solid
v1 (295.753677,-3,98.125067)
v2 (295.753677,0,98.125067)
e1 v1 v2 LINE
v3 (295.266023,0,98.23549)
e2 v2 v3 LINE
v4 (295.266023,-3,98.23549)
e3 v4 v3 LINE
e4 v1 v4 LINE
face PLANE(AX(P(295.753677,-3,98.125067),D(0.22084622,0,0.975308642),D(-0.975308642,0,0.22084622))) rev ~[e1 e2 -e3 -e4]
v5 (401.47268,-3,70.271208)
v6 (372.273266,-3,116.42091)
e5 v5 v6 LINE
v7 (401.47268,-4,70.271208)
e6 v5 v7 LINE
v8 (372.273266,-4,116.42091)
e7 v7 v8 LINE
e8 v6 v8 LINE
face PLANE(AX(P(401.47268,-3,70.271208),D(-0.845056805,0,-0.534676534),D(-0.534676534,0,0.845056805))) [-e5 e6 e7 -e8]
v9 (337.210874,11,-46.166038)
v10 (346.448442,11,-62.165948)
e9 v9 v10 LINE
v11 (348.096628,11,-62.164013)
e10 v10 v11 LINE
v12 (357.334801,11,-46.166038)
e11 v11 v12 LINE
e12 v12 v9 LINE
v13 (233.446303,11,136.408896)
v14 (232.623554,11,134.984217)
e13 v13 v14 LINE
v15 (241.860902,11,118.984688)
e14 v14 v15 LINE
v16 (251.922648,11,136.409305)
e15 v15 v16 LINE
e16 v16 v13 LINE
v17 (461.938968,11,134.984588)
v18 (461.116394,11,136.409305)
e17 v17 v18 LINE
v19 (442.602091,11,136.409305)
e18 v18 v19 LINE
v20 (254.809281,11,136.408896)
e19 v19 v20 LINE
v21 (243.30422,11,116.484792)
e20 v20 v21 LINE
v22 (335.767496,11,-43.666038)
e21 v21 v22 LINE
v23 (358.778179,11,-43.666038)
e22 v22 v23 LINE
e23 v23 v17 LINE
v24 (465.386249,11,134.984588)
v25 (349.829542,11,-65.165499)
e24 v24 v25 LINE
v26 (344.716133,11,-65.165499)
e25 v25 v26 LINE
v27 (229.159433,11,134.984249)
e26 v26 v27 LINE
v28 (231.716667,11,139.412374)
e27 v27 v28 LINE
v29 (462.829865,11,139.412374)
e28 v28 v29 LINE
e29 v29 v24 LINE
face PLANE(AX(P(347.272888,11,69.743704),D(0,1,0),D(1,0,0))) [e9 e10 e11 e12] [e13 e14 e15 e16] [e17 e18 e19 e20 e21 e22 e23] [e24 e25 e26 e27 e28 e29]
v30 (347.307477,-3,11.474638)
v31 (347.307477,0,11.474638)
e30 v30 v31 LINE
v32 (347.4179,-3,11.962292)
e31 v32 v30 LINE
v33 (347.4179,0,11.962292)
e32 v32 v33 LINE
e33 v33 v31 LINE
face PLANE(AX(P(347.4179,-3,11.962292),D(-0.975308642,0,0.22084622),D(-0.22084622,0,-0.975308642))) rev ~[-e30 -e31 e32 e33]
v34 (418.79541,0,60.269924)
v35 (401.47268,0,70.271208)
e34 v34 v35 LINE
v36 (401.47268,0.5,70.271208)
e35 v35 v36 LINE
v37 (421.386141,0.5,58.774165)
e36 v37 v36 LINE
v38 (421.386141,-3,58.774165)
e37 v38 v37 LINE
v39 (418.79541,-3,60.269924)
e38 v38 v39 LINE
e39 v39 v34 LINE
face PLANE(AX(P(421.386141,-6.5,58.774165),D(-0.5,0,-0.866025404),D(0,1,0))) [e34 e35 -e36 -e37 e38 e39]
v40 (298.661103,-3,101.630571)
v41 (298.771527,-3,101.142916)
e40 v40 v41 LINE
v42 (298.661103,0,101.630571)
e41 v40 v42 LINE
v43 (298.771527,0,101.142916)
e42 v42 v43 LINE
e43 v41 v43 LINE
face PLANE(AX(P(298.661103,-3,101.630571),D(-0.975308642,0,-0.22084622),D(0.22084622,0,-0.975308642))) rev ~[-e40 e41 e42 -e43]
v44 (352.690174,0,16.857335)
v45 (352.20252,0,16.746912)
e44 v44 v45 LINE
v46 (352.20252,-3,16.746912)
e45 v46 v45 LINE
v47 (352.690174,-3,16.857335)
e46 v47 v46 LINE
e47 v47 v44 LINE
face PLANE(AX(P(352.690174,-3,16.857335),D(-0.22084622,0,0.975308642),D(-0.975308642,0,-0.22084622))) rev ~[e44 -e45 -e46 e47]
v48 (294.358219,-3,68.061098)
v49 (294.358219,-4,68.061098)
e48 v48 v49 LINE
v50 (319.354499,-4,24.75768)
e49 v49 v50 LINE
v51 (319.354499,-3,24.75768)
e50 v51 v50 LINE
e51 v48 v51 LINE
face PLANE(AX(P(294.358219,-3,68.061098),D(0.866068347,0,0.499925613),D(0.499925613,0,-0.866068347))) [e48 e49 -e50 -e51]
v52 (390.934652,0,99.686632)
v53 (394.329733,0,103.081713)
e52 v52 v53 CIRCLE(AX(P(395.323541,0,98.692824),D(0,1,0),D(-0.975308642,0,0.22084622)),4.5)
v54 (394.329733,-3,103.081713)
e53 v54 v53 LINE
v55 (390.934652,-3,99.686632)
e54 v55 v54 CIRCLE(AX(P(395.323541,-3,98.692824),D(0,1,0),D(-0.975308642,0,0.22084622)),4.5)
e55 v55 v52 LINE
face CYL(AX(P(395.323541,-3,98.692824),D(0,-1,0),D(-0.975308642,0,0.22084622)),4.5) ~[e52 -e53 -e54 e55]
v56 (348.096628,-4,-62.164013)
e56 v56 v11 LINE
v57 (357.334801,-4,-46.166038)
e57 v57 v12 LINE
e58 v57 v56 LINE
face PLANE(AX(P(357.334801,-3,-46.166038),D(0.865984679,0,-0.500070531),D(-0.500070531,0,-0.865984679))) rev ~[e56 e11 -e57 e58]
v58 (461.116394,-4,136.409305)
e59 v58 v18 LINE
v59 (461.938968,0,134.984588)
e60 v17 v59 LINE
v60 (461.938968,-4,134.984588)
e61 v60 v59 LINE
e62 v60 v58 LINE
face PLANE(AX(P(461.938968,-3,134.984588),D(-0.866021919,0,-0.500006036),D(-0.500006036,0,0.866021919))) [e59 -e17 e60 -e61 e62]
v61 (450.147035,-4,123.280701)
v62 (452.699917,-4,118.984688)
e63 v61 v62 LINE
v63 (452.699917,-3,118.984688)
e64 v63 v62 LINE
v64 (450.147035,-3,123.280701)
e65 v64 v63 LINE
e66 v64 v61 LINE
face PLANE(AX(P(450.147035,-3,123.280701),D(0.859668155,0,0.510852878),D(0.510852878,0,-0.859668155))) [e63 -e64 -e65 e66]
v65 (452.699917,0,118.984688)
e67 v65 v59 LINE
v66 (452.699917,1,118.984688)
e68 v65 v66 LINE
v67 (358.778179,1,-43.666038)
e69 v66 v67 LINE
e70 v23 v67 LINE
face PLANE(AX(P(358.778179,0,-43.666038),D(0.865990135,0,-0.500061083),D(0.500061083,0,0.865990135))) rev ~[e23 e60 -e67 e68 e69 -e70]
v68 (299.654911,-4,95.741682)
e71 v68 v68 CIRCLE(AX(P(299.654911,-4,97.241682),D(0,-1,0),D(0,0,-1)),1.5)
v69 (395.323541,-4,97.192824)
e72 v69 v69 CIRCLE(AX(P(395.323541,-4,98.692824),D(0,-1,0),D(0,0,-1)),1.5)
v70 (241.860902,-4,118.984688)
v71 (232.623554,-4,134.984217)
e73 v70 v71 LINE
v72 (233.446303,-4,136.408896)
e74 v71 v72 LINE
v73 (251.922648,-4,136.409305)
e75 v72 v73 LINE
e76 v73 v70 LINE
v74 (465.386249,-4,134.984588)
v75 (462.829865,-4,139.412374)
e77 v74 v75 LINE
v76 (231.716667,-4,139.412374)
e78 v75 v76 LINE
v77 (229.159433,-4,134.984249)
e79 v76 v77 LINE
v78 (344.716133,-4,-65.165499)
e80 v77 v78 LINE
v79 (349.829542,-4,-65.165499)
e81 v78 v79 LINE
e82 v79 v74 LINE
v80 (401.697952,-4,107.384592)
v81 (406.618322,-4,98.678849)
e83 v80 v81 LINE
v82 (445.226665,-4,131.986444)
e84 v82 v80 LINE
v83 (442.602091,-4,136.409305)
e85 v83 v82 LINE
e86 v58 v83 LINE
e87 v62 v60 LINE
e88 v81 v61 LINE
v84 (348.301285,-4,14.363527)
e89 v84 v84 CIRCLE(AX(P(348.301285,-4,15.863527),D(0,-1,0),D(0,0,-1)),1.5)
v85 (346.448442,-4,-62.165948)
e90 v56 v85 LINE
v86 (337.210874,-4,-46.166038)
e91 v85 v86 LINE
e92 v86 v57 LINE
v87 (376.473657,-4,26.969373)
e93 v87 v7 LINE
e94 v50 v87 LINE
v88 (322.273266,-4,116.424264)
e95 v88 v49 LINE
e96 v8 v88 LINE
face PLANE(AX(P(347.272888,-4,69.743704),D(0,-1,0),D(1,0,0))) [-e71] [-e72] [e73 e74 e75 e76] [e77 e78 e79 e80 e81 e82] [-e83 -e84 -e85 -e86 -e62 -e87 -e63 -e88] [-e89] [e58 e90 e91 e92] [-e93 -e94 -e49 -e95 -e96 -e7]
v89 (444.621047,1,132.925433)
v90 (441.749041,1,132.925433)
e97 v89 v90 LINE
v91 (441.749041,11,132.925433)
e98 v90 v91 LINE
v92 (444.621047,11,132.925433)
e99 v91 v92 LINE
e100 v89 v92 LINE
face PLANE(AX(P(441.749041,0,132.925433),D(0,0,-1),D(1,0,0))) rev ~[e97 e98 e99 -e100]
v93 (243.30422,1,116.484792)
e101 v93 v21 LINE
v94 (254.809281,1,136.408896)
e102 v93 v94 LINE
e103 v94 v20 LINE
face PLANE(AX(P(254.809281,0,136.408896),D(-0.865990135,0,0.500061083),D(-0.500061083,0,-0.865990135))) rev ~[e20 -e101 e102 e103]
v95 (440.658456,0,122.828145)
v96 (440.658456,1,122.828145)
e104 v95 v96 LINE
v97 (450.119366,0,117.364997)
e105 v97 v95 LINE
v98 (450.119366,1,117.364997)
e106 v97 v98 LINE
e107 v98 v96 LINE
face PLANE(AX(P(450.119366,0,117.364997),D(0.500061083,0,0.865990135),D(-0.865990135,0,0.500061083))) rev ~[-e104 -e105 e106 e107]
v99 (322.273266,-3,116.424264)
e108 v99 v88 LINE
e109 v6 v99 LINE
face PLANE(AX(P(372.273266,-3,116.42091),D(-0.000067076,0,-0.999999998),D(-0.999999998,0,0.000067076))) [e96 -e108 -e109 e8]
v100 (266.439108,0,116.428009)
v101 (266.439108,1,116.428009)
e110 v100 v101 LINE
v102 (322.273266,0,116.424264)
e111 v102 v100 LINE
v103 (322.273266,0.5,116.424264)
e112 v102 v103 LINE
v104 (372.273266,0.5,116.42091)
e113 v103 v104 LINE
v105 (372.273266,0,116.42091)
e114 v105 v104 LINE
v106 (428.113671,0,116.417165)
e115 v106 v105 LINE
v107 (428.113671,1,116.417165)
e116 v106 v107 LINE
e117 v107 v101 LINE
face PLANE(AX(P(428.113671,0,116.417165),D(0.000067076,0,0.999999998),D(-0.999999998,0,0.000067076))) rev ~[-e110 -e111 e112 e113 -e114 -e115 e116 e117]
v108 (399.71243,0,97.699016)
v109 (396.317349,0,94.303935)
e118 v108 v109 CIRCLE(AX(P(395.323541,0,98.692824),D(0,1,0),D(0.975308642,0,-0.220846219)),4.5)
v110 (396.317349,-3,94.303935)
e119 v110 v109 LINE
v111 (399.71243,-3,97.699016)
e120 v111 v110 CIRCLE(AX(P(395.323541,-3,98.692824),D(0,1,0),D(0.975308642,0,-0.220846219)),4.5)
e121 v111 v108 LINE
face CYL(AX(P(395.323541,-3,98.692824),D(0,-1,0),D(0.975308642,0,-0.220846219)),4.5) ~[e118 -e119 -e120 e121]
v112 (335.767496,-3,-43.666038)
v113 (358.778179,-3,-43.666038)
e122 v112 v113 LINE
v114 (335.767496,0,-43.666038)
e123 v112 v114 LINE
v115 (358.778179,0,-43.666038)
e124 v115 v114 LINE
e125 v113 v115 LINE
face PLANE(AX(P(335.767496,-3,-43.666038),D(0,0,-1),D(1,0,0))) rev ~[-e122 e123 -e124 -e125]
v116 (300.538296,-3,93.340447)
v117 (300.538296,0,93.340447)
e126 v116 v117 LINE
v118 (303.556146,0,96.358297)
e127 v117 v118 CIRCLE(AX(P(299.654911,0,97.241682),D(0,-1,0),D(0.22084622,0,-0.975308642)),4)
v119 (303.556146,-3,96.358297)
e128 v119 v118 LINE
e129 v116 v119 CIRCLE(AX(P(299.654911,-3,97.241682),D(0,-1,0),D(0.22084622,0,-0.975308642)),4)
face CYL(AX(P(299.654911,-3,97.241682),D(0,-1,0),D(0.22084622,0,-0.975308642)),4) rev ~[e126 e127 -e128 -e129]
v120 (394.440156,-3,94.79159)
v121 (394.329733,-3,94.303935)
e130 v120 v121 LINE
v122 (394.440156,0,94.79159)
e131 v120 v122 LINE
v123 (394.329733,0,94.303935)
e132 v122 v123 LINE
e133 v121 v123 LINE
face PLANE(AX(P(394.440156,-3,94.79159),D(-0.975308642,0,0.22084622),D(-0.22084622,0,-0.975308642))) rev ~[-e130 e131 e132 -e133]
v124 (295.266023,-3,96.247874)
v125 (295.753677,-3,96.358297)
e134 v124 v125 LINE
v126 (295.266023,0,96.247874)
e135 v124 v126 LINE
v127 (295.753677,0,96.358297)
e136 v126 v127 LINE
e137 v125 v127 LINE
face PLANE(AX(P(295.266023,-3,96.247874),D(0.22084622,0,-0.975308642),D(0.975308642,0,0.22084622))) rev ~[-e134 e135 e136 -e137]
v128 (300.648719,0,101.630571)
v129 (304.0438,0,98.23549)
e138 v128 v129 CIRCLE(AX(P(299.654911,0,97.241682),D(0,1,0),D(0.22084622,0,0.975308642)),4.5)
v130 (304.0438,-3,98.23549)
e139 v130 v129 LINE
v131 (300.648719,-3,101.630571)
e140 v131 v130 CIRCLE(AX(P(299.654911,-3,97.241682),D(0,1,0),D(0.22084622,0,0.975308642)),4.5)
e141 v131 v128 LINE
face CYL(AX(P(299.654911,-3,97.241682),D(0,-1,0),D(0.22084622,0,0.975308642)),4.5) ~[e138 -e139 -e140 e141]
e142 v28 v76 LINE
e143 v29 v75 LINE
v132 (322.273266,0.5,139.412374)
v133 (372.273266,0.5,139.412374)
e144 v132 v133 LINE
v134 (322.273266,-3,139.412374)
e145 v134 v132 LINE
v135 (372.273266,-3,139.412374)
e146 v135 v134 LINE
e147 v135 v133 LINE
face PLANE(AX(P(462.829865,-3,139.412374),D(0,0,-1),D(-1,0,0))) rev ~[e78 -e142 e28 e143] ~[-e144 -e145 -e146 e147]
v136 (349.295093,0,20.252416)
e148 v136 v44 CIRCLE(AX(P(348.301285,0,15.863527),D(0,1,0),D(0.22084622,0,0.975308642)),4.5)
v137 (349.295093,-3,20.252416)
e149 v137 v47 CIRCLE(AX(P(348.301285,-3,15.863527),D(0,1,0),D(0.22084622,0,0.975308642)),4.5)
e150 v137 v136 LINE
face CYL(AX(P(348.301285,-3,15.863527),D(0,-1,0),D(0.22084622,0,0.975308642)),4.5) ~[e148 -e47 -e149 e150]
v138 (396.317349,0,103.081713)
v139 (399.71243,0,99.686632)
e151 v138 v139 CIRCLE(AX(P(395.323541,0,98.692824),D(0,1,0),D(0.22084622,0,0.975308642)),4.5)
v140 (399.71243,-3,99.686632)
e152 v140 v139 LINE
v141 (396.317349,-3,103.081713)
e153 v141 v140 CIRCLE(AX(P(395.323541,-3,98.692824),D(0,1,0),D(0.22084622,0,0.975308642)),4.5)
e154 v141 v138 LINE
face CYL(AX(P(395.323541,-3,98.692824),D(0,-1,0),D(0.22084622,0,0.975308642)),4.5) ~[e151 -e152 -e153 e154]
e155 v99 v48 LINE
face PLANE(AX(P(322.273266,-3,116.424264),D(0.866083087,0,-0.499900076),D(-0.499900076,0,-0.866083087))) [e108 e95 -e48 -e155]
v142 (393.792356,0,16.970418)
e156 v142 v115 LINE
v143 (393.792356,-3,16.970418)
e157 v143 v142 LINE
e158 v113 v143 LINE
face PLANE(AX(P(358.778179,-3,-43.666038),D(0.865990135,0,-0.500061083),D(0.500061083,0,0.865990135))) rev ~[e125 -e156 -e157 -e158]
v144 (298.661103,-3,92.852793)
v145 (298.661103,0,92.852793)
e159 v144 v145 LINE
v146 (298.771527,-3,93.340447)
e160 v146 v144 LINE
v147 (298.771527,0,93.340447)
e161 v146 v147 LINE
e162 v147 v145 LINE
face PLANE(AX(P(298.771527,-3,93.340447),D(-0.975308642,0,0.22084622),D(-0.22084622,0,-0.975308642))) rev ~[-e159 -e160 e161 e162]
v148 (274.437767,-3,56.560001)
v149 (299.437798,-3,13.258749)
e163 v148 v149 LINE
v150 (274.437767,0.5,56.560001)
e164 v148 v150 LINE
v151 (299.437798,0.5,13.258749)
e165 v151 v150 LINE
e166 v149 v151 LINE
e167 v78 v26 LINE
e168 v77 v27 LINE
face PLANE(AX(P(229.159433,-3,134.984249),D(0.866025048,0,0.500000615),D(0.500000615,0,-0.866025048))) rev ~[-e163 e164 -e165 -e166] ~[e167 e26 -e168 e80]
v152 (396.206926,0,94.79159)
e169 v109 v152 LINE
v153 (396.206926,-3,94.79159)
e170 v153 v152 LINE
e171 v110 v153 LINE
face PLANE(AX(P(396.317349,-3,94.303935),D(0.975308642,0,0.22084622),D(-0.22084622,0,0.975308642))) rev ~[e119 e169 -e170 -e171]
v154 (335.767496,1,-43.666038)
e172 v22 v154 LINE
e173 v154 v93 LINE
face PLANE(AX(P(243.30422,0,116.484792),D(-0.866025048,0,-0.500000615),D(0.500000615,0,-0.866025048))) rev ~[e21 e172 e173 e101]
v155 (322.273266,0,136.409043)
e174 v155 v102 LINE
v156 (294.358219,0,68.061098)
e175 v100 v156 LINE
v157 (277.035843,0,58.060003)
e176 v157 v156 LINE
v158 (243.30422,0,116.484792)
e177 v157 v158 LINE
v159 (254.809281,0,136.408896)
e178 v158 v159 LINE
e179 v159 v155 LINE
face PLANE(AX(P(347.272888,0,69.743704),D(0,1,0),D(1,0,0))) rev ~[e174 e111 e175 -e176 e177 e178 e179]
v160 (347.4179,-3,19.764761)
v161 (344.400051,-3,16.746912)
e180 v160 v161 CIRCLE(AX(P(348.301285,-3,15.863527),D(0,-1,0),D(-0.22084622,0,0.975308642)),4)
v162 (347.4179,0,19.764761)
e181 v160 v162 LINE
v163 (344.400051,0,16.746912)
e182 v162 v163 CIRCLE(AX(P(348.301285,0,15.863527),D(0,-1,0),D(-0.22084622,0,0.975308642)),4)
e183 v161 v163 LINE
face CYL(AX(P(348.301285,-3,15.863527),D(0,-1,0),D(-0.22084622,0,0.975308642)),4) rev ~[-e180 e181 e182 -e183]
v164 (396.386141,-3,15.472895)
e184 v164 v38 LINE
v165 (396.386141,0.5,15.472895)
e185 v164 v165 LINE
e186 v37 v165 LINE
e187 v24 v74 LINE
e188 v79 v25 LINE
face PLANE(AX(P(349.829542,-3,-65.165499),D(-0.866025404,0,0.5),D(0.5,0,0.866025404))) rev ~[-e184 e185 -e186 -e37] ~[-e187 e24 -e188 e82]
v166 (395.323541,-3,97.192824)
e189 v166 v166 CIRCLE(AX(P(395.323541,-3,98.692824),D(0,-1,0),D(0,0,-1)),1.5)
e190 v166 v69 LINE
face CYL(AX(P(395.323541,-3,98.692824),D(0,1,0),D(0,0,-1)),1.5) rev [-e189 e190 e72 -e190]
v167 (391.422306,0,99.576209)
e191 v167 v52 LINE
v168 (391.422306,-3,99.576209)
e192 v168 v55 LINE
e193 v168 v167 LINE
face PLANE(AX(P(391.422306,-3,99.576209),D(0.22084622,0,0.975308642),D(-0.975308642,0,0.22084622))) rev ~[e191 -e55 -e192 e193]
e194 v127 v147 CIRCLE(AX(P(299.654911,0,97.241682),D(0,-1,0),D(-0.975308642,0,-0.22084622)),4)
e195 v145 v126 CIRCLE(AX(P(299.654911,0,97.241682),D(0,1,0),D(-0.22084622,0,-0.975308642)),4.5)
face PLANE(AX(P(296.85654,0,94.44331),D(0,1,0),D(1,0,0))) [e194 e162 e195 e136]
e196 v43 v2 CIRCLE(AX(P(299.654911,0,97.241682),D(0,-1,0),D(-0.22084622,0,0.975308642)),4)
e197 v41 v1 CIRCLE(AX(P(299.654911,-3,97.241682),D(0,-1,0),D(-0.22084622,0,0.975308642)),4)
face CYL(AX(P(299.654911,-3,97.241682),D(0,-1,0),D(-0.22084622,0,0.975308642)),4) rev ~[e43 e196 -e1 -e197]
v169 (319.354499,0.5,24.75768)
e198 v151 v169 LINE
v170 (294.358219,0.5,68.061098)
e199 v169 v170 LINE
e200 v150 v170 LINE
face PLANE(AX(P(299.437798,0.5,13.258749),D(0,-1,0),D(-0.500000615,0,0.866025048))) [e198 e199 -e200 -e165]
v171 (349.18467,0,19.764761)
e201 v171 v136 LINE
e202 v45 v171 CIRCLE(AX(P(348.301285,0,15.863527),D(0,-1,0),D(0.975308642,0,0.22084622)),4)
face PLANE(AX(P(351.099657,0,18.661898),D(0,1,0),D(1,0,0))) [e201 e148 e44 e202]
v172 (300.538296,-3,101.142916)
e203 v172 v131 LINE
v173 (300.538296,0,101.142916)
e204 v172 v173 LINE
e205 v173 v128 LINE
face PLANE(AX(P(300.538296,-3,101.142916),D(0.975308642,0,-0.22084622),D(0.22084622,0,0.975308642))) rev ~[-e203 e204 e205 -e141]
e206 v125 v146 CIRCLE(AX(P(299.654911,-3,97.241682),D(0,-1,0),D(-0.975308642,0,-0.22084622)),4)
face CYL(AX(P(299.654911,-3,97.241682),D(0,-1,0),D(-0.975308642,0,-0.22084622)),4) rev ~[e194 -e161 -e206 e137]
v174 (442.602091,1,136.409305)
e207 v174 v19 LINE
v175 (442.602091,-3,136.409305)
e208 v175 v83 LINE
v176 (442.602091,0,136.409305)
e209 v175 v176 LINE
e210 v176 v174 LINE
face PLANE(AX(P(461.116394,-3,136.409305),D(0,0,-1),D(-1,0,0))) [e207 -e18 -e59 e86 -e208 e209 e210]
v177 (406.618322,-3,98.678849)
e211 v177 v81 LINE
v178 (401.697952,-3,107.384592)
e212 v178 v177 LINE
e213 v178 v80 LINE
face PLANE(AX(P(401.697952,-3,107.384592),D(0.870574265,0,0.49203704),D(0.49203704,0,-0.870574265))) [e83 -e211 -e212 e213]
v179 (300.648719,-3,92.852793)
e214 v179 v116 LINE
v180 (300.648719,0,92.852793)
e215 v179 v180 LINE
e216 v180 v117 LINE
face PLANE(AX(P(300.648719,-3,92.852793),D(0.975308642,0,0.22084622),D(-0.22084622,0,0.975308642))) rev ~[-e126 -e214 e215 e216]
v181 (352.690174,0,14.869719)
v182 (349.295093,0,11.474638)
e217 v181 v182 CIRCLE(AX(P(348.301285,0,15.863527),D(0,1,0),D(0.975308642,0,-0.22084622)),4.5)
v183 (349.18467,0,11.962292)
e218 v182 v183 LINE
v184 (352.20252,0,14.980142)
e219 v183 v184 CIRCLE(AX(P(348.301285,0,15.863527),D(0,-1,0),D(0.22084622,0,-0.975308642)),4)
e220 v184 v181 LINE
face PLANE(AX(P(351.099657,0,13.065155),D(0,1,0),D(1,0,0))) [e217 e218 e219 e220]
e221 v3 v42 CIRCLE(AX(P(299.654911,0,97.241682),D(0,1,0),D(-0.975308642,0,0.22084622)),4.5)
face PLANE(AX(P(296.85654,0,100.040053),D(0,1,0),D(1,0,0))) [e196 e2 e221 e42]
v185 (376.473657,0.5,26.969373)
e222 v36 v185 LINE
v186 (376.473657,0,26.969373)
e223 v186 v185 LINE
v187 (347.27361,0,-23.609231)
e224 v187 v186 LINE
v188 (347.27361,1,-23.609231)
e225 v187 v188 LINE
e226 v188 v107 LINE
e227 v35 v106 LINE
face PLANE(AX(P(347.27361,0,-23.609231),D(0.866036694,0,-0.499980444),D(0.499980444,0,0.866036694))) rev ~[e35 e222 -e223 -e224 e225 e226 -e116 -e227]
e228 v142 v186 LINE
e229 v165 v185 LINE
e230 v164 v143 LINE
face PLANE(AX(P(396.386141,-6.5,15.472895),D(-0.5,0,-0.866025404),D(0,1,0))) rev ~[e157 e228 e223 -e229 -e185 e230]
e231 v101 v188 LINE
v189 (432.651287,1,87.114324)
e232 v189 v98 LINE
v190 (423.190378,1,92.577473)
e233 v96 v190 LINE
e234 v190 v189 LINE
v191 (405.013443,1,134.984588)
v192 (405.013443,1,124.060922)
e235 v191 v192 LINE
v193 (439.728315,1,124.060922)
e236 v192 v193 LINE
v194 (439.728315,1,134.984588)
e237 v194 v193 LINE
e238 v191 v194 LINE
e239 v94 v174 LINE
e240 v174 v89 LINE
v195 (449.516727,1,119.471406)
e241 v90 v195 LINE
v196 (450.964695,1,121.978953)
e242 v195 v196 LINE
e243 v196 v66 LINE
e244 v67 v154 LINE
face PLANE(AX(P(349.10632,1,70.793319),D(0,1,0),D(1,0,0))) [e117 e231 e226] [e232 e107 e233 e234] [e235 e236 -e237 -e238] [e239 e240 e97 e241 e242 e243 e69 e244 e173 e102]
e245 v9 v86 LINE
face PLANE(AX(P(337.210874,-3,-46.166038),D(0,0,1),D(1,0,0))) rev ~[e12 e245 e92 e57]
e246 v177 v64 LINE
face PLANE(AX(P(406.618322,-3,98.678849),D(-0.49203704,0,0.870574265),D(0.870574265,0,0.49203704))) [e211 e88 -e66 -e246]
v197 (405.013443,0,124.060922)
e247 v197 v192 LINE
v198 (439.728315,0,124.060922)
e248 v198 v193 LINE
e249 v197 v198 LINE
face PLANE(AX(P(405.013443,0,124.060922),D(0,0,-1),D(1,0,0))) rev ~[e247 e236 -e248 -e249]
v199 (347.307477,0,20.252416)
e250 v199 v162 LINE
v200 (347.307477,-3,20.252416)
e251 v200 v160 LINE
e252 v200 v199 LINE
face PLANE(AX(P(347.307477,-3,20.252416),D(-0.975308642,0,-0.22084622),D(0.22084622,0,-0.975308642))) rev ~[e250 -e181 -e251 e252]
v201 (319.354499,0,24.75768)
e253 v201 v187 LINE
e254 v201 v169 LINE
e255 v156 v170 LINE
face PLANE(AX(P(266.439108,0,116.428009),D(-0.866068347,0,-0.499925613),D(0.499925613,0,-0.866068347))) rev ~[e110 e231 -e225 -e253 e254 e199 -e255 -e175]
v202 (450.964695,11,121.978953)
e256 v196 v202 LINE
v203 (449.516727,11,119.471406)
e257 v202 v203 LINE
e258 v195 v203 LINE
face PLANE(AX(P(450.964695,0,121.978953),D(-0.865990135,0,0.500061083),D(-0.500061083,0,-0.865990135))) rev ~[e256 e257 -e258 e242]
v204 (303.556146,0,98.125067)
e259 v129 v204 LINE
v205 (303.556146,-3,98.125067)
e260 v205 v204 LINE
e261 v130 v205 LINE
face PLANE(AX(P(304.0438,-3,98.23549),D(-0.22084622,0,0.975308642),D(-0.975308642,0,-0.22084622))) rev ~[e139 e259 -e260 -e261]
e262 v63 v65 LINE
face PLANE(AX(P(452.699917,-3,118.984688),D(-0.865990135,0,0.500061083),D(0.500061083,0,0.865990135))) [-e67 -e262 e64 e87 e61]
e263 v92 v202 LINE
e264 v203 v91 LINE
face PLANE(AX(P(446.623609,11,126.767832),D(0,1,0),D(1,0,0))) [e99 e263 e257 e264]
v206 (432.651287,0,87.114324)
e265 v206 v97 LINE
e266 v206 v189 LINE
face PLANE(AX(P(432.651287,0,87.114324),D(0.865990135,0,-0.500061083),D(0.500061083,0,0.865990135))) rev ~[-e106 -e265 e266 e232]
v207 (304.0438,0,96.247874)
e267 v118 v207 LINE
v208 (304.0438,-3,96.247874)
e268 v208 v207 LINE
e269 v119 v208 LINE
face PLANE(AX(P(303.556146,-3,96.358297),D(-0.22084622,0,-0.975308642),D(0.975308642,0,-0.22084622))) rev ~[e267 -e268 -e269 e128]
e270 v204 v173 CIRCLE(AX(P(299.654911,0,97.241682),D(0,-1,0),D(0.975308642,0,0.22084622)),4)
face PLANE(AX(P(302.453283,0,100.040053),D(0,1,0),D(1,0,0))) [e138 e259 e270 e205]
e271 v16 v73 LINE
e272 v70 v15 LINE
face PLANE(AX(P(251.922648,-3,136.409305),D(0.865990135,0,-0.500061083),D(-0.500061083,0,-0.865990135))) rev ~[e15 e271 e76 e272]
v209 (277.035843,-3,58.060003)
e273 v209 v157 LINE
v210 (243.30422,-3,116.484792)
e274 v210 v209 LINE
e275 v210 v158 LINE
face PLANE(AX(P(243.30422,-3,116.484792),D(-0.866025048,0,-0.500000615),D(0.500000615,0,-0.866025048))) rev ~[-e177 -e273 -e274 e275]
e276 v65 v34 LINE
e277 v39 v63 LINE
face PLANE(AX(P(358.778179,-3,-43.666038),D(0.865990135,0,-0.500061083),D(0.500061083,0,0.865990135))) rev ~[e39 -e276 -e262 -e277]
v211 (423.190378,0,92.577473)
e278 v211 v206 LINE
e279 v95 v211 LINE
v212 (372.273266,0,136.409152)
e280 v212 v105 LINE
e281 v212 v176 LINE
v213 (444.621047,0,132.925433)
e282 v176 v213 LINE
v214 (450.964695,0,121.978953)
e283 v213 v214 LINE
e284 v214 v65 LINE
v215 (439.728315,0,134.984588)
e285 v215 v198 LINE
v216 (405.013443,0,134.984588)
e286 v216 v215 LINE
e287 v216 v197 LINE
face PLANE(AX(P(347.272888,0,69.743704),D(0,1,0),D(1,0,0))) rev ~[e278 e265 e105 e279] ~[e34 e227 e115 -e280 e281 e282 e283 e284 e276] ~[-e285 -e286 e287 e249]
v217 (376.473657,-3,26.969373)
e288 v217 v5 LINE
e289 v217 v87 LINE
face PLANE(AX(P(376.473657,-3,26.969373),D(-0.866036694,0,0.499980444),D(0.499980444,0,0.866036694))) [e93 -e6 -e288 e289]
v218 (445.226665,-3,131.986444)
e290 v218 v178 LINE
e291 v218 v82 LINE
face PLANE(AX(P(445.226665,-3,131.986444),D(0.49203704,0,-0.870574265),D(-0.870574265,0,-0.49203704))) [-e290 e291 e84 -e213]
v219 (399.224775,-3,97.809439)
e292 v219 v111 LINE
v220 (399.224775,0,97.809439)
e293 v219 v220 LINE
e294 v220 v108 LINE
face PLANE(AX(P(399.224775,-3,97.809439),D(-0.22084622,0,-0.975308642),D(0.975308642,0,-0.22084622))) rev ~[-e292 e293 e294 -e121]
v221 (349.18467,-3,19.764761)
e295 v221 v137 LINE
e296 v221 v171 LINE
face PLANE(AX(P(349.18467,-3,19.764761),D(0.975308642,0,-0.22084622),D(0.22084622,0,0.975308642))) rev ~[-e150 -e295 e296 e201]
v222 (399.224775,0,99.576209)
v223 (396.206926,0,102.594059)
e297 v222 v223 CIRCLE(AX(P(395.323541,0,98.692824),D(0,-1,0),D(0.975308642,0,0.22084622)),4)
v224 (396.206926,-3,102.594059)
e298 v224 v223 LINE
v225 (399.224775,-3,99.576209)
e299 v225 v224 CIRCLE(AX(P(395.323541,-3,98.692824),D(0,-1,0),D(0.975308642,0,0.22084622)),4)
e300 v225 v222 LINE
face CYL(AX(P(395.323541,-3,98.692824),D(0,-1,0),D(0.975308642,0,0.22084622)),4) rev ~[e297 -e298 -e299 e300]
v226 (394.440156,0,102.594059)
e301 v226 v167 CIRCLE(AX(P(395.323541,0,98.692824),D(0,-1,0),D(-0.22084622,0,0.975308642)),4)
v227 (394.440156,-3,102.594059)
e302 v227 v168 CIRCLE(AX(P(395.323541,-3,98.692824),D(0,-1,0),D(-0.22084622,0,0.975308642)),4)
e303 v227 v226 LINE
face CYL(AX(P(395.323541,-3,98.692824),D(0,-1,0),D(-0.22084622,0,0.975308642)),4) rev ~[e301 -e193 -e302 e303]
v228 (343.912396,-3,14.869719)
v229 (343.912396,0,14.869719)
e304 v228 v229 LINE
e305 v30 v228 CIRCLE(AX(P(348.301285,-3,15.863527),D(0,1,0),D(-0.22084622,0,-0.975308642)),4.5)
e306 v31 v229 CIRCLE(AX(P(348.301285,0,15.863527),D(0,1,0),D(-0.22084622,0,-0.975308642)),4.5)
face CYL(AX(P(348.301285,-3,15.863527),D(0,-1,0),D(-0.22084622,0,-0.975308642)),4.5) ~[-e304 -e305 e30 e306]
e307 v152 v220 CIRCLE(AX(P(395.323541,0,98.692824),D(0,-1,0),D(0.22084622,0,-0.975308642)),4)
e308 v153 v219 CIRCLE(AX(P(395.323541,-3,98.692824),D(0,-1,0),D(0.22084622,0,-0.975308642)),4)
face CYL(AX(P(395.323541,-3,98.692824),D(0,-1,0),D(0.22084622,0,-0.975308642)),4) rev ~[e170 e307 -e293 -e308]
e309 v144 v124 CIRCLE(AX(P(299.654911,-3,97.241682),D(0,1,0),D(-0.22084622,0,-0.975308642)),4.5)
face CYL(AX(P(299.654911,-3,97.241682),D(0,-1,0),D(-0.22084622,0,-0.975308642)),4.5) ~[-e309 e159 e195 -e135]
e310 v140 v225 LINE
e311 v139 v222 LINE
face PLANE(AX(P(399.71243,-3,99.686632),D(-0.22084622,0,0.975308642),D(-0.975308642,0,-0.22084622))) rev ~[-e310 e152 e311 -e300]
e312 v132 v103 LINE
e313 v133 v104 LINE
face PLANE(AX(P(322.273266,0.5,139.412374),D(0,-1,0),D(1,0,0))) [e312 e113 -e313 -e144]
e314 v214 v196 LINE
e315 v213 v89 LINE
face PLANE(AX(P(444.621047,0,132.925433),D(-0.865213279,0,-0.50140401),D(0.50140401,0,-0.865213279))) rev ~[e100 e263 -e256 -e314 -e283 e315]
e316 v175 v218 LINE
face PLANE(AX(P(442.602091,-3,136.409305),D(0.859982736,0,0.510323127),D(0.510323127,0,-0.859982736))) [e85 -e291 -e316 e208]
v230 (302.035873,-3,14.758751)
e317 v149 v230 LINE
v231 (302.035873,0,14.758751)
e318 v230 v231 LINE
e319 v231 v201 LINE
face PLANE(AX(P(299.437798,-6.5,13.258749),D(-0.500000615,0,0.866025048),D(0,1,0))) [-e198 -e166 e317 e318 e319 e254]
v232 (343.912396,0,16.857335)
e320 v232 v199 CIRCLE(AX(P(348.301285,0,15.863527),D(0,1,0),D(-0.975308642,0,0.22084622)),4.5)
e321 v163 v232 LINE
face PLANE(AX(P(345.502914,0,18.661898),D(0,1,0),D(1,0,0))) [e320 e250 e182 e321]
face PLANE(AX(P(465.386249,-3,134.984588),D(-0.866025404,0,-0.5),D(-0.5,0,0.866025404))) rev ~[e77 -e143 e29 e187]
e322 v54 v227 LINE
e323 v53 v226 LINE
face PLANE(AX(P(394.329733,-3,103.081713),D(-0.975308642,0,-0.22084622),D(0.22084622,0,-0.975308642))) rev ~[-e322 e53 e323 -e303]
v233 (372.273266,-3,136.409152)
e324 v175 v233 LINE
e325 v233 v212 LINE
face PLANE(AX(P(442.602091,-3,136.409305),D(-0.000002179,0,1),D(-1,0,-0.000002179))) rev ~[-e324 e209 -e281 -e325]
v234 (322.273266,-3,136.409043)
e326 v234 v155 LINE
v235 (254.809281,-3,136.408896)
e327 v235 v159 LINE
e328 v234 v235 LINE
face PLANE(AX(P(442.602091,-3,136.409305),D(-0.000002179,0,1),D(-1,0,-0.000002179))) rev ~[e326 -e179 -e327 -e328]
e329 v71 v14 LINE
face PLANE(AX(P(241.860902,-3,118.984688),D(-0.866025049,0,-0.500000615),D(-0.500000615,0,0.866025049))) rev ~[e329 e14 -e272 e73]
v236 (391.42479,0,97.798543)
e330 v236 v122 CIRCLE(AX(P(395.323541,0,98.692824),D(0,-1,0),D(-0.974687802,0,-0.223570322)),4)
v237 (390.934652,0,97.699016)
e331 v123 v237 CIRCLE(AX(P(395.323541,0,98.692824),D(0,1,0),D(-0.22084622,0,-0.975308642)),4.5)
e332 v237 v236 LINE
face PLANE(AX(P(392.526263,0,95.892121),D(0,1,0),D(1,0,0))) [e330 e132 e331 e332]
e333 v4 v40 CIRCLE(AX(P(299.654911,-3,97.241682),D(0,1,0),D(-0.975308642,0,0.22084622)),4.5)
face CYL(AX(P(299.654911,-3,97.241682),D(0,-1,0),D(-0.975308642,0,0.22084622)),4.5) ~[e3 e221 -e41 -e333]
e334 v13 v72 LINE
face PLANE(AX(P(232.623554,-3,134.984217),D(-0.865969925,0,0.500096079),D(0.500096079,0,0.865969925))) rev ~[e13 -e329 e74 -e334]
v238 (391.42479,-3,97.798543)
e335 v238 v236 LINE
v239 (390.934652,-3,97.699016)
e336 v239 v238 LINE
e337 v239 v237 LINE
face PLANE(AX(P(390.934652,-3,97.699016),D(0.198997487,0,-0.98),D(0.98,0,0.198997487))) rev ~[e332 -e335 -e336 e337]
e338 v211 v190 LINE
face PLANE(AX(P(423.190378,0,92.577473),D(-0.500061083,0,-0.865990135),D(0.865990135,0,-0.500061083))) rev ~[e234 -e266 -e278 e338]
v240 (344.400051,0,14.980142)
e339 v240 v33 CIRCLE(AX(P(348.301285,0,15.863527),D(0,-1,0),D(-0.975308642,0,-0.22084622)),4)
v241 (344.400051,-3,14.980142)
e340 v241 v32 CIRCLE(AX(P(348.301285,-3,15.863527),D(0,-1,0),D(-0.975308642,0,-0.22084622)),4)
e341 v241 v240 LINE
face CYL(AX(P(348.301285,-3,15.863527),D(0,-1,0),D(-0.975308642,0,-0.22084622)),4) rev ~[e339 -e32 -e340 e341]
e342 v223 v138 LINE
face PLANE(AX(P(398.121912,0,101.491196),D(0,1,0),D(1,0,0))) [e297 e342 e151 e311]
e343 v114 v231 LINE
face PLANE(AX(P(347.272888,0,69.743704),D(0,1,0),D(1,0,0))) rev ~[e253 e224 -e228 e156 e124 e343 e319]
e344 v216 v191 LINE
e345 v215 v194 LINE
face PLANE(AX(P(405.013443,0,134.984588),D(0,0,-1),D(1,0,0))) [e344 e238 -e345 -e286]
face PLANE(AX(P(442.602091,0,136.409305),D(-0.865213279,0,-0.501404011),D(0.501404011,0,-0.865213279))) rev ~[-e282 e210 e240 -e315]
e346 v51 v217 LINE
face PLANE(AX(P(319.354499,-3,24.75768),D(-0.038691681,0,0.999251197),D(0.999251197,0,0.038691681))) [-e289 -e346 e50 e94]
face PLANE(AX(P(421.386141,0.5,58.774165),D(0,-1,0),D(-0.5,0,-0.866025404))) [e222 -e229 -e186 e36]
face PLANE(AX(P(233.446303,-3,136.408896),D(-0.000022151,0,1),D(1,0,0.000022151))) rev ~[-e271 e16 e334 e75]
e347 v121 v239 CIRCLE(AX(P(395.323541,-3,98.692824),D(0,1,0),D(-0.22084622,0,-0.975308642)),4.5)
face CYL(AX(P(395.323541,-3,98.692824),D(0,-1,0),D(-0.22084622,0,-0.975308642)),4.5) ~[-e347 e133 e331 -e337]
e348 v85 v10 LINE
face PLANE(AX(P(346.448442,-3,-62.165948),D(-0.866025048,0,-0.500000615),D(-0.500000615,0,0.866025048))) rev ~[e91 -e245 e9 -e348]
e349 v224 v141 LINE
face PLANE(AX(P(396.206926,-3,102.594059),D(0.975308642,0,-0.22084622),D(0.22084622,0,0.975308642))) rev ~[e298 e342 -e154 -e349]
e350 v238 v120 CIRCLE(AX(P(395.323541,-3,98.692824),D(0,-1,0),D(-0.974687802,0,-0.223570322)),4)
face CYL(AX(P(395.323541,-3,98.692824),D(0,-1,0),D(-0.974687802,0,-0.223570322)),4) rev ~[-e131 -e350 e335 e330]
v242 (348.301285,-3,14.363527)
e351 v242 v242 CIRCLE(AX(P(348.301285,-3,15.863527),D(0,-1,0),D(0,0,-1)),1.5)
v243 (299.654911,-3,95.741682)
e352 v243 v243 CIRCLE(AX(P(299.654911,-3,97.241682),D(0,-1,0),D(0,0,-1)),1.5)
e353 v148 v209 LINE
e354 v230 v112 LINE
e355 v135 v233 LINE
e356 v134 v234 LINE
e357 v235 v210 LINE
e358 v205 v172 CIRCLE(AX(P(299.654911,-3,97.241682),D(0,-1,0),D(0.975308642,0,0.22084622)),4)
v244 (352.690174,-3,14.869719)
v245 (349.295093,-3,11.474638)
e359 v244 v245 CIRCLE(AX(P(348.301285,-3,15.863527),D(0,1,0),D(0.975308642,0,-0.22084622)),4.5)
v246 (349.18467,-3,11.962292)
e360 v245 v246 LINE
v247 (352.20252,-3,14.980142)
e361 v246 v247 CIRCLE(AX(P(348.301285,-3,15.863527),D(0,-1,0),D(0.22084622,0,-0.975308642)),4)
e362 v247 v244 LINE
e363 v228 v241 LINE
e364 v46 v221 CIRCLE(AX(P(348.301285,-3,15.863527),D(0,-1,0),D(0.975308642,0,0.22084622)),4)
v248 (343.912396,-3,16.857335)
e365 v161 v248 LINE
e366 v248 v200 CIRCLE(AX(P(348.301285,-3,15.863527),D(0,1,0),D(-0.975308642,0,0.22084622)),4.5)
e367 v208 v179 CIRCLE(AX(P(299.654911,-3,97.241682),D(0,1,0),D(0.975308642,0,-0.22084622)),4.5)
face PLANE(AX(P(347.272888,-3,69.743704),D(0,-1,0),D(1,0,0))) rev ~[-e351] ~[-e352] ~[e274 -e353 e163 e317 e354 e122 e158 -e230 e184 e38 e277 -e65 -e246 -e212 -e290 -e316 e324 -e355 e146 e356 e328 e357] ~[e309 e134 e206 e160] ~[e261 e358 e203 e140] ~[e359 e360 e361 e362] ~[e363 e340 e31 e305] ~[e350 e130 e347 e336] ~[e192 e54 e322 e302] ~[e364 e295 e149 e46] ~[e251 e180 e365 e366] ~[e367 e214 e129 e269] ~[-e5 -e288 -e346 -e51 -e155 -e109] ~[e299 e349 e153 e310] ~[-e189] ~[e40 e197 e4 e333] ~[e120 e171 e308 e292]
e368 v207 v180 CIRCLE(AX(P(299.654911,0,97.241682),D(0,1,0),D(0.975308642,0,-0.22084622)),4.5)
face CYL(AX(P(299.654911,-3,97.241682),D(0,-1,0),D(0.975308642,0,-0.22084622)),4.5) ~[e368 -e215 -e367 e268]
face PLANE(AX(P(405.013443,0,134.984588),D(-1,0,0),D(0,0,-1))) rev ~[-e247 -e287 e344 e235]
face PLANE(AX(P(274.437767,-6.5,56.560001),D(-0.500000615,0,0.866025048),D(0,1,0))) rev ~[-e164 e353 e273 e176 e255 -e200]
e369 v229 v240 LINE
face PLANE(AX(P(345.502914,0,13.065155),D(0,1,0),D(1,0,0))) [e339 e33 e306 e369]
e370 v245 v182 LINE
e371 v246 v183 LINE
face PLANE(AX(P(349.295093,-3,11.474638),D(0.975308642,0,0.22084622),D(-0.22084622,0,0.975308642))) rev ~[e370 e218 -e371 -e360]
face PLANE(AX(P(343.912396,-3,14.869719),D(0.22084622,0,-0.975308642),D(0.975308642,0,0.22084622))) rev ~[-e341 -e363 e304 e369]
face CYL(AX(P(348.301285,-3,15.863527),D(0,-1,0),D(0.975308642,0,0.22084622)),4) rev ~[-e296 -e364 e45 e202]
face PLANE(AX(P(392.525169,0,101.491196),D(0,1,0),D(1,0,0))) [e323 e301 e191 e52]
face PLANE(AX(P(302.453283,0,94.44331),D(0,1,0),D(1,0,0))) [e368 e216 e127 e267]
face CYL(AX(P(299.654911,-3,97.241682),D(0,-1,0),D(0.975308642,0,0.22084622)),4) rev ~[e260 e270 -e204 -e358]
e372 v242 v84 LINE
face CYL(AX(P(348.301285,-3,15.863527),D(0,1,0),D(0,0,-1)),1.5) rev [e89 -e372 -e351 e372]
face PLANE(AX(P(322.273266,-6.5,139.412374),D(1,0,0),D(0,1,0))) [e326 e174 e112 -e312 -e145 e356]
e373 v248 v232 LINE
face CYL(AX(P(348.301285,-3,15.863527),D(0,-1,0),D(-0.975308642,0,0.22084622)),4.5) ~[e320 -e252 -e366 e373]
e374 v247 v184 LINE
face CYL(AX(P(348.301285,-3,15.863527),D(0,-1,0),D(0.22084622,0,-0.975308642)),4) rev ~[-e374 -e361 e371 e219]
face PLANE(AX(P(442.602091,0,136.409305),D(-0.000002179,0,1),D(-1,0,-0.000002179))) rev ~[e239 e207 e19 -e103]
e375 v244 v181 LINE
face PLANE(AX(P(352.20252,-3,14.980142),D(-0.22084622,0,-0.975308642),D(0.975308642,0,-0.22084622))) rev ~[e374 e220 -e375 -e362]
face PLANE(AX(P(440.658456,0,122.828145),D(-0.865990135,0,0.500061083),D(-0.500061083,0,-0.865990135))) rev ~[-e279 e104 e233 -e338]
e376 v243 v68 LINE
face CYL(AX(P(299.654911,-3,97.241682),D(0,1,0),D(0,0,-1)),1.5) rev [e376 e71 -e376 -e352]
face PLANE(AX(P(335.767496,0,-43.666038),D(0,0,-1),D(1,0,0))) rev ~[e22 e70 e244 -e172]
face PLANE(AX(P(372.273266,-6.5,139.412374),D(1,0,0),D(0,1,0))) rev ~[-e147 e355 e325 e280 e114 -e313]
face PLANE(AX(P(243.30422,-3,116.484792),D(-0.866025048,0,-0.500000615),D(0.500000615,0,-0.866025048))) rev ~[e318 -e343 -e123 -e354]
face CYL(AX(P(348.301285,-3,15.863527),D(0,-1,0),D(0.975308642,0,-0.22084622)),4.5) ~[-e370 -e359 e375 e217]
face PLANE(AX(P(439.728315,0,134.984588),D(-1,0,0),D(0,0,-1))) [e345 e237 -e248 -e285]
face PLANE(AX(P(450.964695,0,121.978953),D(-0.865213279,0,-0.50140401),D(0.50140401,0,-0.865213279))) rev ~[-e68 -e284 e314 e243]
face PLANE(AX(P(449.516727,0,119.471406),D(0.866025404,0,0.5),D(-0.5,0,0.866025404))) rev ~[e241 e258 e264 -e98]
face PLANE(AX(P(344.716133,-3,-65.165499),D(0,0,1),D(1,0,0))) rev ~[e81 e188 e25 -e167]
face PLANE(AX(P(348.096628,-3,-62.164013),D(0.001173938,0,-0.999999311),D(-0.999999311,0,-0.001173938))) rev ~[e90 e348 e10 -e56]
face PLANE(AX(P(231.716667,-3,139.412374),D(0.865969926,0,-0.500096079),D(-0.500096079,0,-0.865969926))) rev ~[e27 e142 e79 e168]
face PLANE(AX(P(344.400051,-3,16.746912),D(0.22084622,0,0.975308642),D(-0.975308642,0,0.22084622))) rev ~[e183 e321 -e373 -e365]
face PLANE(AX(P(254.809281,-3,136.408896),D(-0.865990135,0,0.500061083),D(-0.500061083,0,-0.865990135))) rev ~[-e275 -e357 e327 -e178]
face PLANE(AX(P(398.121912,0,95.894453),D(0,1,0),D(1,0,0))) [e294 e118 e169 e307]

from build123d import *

# Parameters (mm, degrees)
SKETCH1_W                = 34.714871787
SKETCH1_H                = 10.923666426
BOSS_EXTRUDE1_DEPTH      = 1
BOSS_EXTRUDE2_DEPTH      = 11
BOSS_EXTRUDE3_DEPTH      = 5
BOSS_EXTRUDE3_DEPTH_BACK = 3
SKETCH3_W                = 50
SKETCH3_H                = 7
CUT_EXTRUDE3_DEPTH       = 25
SKETCH5_W                = 50
SKETCH5_H                = 7
CUT_EXTRUDE4_DEPTH       = 25
SKETCH6_W                = 50
SKETCH6_H                = 7
CUT_EXTRUDE5_DEPTH       = 25
SKETCH8_R                = 1.5
BOSS_EXTRUDE5_DEPTH      = 1
BOSS_EXTRUDE10_DEPTH     = 3


with BuildPart() as part:
    # Sketch1 → Boss-Extrude1 (new body)
    with BuildSketch(Plane(origin=(0, 0, 0), x_dir=(1, 0, 0), z_dir=(0, 1, 0))):
        Polygon((243.304219775, -116.484791865), (254.809280577, -136.408896137), (442.602090749, -136.409305398), (444.621046679, -132.925433224), (441.749040748, -132.925433224), (449.516726724, -119.471406458), (450.964695298, -121.978953123), (452.699916622, -118.984688018), (358.778179036, 43.666038065), (335.767496284, 43.666038065), align=None)
        with Locations((422.370878913, -129.522754792)):
            Rectangle(SKETCH1_W, SKETCH1_H, mode=Mode.SUBTRACT)
        Polygon((423.190377512, -92.577472767), (432.651287025, -87.114324326), (450.119365975, -117.364996826), (440.658456462, -122.828145267), align=None, mode=Mode.SUBTRACT)
        Polygon((428.113670919, -116.417164681), (266.439108268, -116.428009237), (347.273609729, 23.609230821), align=None, mode=Mode.SUBTRACT)
    extrude(amount=BOSS_EXTRUDE1_DEPTH)

    # Sketch1<9> → Boss-Extrude2 (add)
    # profile 1 of 2: a face of its own
    with BuildSketch(Plane(origin=(0, 0, 0), x_dir=(1, 0, 0), z_dir=(0, 1, 0))):
        Polygon((229.159432548, -134.984249184), (231.716666588, -139.412373829), (462.829865412, -139.412373829), (465.38624875, -134.984588004), (349.829542096, 65.165499075), (344.716133219, 65.165499075), align=None)
        Polygon((251.922647989, -136.409305399), (233.446303401, -136.408896138), (232.62355396, -134.984217357), (241.860901689, -118.984688018), align=None, mode=Mode.SUBTRACT)
        Polygon((442.602090749, -136.409305398), (254.809280577, -136.408896137), (243.304219775, -116.484791865), (335.767496284, 43.666038065), (358.778179036, 43.666038065), (461.938967958, -134.984588006), (461.116393749, -136.409305398), align=None, mode=Mode.SUBTRACT)
        Polygon((348.096628302, 62.164013367), (357.334800991, 46.166038067), (337.210874326, 46.166038067), (346.44844193, 62.165948237), align=None, mode=Mode.SUBTRACT)
    # profile 2 of 2: a face of its own
    with BuildSketch(Plane(origin=(0, 0, 0), x_dir=(1, 0, 0), z_dir=(0, 1, 0))):
        Polygon((441.749040748, -132.925433224), (444.621046679, -132.925433224), (450.964695298, -121.978953123), (449.516726724, -119.471406458), align=None)
    extrude(amount=BOSS_EXTRUDE2_DEPTH)

    # Sketch1<10> → Boss-Extrude3 (add, two sides: drawn at the far end of the back side and taken through both)
    with BuildSketch(Plane(origin=(0, 0, 0), x_dir=(1, 0, 0), z_dir=(0, 1, 0)).offset(-BOSS_EXTRUDE3_DEPTH_BACK)):
        Polygon((229.159432548, -134.984249184), (231.716666588, -139.412373829), (462.829865412, -139.412373829), (465.38624875, -134.984588004), (349.829542096, 65.165499075), (344.716133219, 65.165499075), align=None)
        Polygon((251.922647989, -136.409305399), (233.446303401, -136.408896138), (232.62355396, -134.984217357), (241.860901689, -118.984688018), align=None, mode=Mode.SUBTRACT)
        Polygon((442.602090749, -136.409305398), (254.809280577, -136.408896137), (243.304219775, -116.484791865), (335.767496284, 43.666038065), (358.778179036, 43.666038065), (452.699916622, -118.984688018), (461.938967958, -134.984588006), (461.116393749, -136.409305398), align=None, mode=Mode.SUBTRACT)
        Polygon((348.096628302, 62.164013367), (357.334800991, 46.166038067), (337.210874326, 46.166038067), (346.44844193, 62.165948237), align=None, mode=Mode.SUBTRACT)
    extrude(amount=BOSS_EXTRUDE3_DEPTH + BOSS_EXTRUDE3_DEPTH_BACK)

    # Sketch3 → Cut-Extrude3 (cut)
    with BuildSketch(Plane(origin=(290.589645397, 0, -167.772009994), x_dir=(-0.49999999999998745, 0, -0.8660254037844459), z_dir=(0.8660254037844459, 0, -0.49999999999998745))):
        with Locations((-236.592990632, -3)):
            Rectangle(SKETCH3_W, SKETCH3_H)
    extrude(amount=-CUT_EXTRUDE3_DEPTH, mode=Mode.SUBTRACT)

    # Sketch5 → Cut-Extrude4 (cut)
    with BuildSketch(Plane.XY.offset(139.412373829)):
        with Locations((347.273266, -3)):
            Rectangle(SKETCH5_W, SKETCH5_H)
    extrude(amount=-CUT_EXTRUDE4_DEPTH, mode=Mode.SUBTRACT)

    # Sketch6 → Cut-Extrude5 (cut)
    with BuildSketch(Plane(origin=(230.319375798, 0, 132.975171837), x_dir=(-0.5000006154012504, 0, 0.8660250484820695), z_dir=(-0.8660250484820695, 0, -0.5000006154012504))):
        with Locations((-113.236674799, -3)):
            Rectangle(SKETCH6_W, SKETCH6_H)
    extrude(amount=-CUT_EXTRUDE5_DEPTH, mode=Mode.SUBTRACT)

    # Sketch8 → Boss-Extrude5 (add)
    with BuildSketch(Plane.XZ.offset(3)):
        Polygon((349.829542096, -65.165499075), (465.38624875, 134.984588004), (462.829865412, 139.412373829), (231.716666588, 139.412373829), (229.159432548, 134.984249184), (344.716133219, -65.165499075), align=None)
        with Locations((395.323540807, 98.692824234)):
            Circle(SKETCH8_R, mode=Mode.SUBTRACT)
        with Locations((348.301285091, 15.863526629)):
            Circle(SKETCH8_R, mode=Mode.SUBTRACT)
        with Locations((299.654911442, 97.24168178)):
            Circle(SKETCH8_R, mode=Mode.SUBTRACT)
        Polygon((450.14703547, 123.280701064), (452.699916622, 118.984688018), (461.938967958, 134.984588006), (461.116393749, 136.409305398), (442.602090749, 136.409305398), (445.226665069, 131.986443715), (401.697951811, 107.384591709), (406.618322213, 98.678849058), align=None, mode=Mode.SUBTRACT)
        Polygon((322.273266, 116.42426408), (294.358218631, 68.061097964), (319.354499367, 24.757680453), (376.473657316, 26.969372806), (401.47267951, 70.271207531), (372.273266, 116.420910257), align=None, mode=Mode.SUBTRACT)
        Polygon((233.446303401, 136.408896138), (251.922647989, 136.409305399), (241.860901689, 118.984688018), (232.62355396, 134.984217357), align=None, mode=Mode.SUBTRACT)
        Polygon((337.210874326, -46.166038067), (357.334800991, -46.166038067), (348.096628302, -62.164013367), (346.44844193, -62.165948237), align=None, mode=Mode.SUBTRACT)
    extrude(amount=BOSS_EXTRUDE5_DEPTH)

    # Sketch12 → Boss-Extrude10 (add)
    with BuildSketch(Plane(origin=(0, -3, 0), x_dir=(1, 0, 0), z_dir=(0, 1, 0))):
        with BuildLine():
            ThreePointArc((352.690173981, -14.869718639), (351.483265607, -12.681546114), (349.295093082, -11.47463774))
            Line((349.295093081, -11.47463774), (349.184669971, -11.962292061))
            ThreePointArc((349.184669972, -11.962292061), (351.129712216, -13.035099504), (352.20251966, -14.980141749))
            Line((352.202519659, -14.980141749), (352.69017398, -14.869718639))
        make_face()
        with BuildLine():
            Line((347.417900211, -11.962292061), (347.307477101, -11.47463774))
            ThreePointArc((347.307477101, -11.47463774), (345.119304576, -12.681546114), (343.912396202, -14.869718639))
            Line((343.912396203, -14.869718639), (344.400050524, -14.980141749))
            ThreePointArc((344.400050523, -14.980141749), (345.472857967, -13.035099504), (347.417900211, -11.962292061))
        make_face()
        with BuildLine():
            ThreePointArc((349.295093082, -20.252415518), (351.483265607, -19.045507145), (352.690173981, -16.857334619))
            Line((352.69017398, -16.857334619), (352.202519659, -16.746911509))
            ThreePointArc((352.20251966, -16.746911509), (351.129712216, -18.691953754), (349.184669972, -19.764761197))
            Line((349.184669971, -19.764761197), (349.295093081, -20.252415518))
        make_face()
        with BuildLine():
            Line((344.400050524, -16.746911509), (343.912396203, -16.857334619))
            ThreePointArc((343.912396202, -16.857334619), (345.119304576, -19.045507145), (347.307477101, -20.252415518))
            Line((347.307477101, -20.252415518), (347.417900211, -19.764761197))
            ThreePointArc((347.417900211, -19.764761197), (345.472857967, -18.691953754), (344.400050523, -16.746911509))
        make_face()
        with BuildLine():
            Line((394.440155927, -94.791589666), (394.329732817, -94.303935345))
            ThreePointArc((394.329732817, -94.303935345), (392.141560292, -95.510843718), (390.934651918, -97.699016244))
            Line((390.934651918, -97.699016244), (391.4247896, -97.798542945))
            ThreePointArc((391.4247896, -97.798542945), (392.499067689, -95.860448622), (394.440155927, -94.791589666))
        make_face()
        with BuildLine():
            ThreePointArc((399.712429696, -97.699016244), (398.505521323, -95.510843718), (396.317348797, -94.303935345))
            Line((396.317348797, -94.303935345), (396.206925687, -94.791589666))
            ThreePointArc((396.206925687, -94.791589666), (398.151967932, -95.864397109), (399.224775375, -97.809439354))
            Line((399.224775375, -97.809439354), (399.712429696, -97.699016244))
        make_face()
        with BuildLine():
            Line((391.422306239, -99.576209114), (390.934651918, -99.686632224))
            ThreePointArc((390.934651918, -99.686632224), (392.141560292, -101.874804749), (394.329732817, -103.081713123))
            Line((394.329732817, -103.081713122), (394.440155927, -102.594058801))
            ThreePointArc((394.440155927, -102.594058802), (392.495113682, -101.521251358), (391.422306239, -99.576209114))
        make_face()
        with BuildLine():
            ThreePointArc((396.317348797, -103.081713123), (398.505521323, -101.874804749), (399.712429696, -99.686632224))
            Line((399.712429696, -99.686632224), (399.224775375, -99.576209114))
            ThreePointArc((399.224775375, -99.576209114), (398.151967932, -101.521251358), (396.206925687, -102.594058802))
            Line((396.206925687, -102.594058801), (396.317348797, -103.081713122))
        make_face()
        with BuildLine():
            ThreePointArc((298.661103452, -92.852792892), (296.472930927, -94.059701265), (295.266022553, -96.24787379))
            Line((295.266022553, -96.24787379), (295.753676874, -96.3582969))
            ThreePointArc((295.753676874, -96.3582969), (296.826484317, -94.413254656), (298.771526562, -93.340447213))
            Line((298.771526562, -93.340447212), (298.661103452, -92.852792891))
        make_face()
        with BuildLine():
            Line((295.753676874, -98.12506666), (295.266022553, -98.23548977))
            ThreePointArc((295.266022553, -98.23548977), (296.472930927, -100.423662295), (298.661103452, -101.630570669))
            Line((298.661103452, -101.630570669), (298.771526562, -101.142916348))
            ThreePointArc((298.771526562, -101.142916348), (296.826484317, -100.070108905), (295.753676874, -98.12506666))
        make_face()
        with BuildLine():
            ThreePointArc((304.04380033, -96.24787379), (302.836891957, -94.059701265), (300.648719432, -92.852792892))
            Line((300.648719432, -92.852792891), (300.538296322, -93.340447212))
            ThreePointArc((300.538296322, -93.340447213), (302.483338566, -94.413254656), (303.55614601, -96.3582969))
            Line((303.55614601, -96.3582969), (304.043800331, -96.24787379))
        make_face()
        with BuildLine():
            Line((300.538296322, -101.142916348), (300.648719432, -101.630570669))
            ThreePointArc((300.648719432, -101.630570669), (302.836891957, -100.423662295), (304.04380033, -98.23548977))
            Line((304.043800331, -98.23548977), (303.55614601, -98.12506666))
            ThreePointArc((303.55614601, -98.12506666), (302.483338566, -100.070108905), (300.538296322, -101.142916348))
        make_face()
    extrude(amount=BOSS_EXTRUDE10_DEPTH)


solid = part.part
